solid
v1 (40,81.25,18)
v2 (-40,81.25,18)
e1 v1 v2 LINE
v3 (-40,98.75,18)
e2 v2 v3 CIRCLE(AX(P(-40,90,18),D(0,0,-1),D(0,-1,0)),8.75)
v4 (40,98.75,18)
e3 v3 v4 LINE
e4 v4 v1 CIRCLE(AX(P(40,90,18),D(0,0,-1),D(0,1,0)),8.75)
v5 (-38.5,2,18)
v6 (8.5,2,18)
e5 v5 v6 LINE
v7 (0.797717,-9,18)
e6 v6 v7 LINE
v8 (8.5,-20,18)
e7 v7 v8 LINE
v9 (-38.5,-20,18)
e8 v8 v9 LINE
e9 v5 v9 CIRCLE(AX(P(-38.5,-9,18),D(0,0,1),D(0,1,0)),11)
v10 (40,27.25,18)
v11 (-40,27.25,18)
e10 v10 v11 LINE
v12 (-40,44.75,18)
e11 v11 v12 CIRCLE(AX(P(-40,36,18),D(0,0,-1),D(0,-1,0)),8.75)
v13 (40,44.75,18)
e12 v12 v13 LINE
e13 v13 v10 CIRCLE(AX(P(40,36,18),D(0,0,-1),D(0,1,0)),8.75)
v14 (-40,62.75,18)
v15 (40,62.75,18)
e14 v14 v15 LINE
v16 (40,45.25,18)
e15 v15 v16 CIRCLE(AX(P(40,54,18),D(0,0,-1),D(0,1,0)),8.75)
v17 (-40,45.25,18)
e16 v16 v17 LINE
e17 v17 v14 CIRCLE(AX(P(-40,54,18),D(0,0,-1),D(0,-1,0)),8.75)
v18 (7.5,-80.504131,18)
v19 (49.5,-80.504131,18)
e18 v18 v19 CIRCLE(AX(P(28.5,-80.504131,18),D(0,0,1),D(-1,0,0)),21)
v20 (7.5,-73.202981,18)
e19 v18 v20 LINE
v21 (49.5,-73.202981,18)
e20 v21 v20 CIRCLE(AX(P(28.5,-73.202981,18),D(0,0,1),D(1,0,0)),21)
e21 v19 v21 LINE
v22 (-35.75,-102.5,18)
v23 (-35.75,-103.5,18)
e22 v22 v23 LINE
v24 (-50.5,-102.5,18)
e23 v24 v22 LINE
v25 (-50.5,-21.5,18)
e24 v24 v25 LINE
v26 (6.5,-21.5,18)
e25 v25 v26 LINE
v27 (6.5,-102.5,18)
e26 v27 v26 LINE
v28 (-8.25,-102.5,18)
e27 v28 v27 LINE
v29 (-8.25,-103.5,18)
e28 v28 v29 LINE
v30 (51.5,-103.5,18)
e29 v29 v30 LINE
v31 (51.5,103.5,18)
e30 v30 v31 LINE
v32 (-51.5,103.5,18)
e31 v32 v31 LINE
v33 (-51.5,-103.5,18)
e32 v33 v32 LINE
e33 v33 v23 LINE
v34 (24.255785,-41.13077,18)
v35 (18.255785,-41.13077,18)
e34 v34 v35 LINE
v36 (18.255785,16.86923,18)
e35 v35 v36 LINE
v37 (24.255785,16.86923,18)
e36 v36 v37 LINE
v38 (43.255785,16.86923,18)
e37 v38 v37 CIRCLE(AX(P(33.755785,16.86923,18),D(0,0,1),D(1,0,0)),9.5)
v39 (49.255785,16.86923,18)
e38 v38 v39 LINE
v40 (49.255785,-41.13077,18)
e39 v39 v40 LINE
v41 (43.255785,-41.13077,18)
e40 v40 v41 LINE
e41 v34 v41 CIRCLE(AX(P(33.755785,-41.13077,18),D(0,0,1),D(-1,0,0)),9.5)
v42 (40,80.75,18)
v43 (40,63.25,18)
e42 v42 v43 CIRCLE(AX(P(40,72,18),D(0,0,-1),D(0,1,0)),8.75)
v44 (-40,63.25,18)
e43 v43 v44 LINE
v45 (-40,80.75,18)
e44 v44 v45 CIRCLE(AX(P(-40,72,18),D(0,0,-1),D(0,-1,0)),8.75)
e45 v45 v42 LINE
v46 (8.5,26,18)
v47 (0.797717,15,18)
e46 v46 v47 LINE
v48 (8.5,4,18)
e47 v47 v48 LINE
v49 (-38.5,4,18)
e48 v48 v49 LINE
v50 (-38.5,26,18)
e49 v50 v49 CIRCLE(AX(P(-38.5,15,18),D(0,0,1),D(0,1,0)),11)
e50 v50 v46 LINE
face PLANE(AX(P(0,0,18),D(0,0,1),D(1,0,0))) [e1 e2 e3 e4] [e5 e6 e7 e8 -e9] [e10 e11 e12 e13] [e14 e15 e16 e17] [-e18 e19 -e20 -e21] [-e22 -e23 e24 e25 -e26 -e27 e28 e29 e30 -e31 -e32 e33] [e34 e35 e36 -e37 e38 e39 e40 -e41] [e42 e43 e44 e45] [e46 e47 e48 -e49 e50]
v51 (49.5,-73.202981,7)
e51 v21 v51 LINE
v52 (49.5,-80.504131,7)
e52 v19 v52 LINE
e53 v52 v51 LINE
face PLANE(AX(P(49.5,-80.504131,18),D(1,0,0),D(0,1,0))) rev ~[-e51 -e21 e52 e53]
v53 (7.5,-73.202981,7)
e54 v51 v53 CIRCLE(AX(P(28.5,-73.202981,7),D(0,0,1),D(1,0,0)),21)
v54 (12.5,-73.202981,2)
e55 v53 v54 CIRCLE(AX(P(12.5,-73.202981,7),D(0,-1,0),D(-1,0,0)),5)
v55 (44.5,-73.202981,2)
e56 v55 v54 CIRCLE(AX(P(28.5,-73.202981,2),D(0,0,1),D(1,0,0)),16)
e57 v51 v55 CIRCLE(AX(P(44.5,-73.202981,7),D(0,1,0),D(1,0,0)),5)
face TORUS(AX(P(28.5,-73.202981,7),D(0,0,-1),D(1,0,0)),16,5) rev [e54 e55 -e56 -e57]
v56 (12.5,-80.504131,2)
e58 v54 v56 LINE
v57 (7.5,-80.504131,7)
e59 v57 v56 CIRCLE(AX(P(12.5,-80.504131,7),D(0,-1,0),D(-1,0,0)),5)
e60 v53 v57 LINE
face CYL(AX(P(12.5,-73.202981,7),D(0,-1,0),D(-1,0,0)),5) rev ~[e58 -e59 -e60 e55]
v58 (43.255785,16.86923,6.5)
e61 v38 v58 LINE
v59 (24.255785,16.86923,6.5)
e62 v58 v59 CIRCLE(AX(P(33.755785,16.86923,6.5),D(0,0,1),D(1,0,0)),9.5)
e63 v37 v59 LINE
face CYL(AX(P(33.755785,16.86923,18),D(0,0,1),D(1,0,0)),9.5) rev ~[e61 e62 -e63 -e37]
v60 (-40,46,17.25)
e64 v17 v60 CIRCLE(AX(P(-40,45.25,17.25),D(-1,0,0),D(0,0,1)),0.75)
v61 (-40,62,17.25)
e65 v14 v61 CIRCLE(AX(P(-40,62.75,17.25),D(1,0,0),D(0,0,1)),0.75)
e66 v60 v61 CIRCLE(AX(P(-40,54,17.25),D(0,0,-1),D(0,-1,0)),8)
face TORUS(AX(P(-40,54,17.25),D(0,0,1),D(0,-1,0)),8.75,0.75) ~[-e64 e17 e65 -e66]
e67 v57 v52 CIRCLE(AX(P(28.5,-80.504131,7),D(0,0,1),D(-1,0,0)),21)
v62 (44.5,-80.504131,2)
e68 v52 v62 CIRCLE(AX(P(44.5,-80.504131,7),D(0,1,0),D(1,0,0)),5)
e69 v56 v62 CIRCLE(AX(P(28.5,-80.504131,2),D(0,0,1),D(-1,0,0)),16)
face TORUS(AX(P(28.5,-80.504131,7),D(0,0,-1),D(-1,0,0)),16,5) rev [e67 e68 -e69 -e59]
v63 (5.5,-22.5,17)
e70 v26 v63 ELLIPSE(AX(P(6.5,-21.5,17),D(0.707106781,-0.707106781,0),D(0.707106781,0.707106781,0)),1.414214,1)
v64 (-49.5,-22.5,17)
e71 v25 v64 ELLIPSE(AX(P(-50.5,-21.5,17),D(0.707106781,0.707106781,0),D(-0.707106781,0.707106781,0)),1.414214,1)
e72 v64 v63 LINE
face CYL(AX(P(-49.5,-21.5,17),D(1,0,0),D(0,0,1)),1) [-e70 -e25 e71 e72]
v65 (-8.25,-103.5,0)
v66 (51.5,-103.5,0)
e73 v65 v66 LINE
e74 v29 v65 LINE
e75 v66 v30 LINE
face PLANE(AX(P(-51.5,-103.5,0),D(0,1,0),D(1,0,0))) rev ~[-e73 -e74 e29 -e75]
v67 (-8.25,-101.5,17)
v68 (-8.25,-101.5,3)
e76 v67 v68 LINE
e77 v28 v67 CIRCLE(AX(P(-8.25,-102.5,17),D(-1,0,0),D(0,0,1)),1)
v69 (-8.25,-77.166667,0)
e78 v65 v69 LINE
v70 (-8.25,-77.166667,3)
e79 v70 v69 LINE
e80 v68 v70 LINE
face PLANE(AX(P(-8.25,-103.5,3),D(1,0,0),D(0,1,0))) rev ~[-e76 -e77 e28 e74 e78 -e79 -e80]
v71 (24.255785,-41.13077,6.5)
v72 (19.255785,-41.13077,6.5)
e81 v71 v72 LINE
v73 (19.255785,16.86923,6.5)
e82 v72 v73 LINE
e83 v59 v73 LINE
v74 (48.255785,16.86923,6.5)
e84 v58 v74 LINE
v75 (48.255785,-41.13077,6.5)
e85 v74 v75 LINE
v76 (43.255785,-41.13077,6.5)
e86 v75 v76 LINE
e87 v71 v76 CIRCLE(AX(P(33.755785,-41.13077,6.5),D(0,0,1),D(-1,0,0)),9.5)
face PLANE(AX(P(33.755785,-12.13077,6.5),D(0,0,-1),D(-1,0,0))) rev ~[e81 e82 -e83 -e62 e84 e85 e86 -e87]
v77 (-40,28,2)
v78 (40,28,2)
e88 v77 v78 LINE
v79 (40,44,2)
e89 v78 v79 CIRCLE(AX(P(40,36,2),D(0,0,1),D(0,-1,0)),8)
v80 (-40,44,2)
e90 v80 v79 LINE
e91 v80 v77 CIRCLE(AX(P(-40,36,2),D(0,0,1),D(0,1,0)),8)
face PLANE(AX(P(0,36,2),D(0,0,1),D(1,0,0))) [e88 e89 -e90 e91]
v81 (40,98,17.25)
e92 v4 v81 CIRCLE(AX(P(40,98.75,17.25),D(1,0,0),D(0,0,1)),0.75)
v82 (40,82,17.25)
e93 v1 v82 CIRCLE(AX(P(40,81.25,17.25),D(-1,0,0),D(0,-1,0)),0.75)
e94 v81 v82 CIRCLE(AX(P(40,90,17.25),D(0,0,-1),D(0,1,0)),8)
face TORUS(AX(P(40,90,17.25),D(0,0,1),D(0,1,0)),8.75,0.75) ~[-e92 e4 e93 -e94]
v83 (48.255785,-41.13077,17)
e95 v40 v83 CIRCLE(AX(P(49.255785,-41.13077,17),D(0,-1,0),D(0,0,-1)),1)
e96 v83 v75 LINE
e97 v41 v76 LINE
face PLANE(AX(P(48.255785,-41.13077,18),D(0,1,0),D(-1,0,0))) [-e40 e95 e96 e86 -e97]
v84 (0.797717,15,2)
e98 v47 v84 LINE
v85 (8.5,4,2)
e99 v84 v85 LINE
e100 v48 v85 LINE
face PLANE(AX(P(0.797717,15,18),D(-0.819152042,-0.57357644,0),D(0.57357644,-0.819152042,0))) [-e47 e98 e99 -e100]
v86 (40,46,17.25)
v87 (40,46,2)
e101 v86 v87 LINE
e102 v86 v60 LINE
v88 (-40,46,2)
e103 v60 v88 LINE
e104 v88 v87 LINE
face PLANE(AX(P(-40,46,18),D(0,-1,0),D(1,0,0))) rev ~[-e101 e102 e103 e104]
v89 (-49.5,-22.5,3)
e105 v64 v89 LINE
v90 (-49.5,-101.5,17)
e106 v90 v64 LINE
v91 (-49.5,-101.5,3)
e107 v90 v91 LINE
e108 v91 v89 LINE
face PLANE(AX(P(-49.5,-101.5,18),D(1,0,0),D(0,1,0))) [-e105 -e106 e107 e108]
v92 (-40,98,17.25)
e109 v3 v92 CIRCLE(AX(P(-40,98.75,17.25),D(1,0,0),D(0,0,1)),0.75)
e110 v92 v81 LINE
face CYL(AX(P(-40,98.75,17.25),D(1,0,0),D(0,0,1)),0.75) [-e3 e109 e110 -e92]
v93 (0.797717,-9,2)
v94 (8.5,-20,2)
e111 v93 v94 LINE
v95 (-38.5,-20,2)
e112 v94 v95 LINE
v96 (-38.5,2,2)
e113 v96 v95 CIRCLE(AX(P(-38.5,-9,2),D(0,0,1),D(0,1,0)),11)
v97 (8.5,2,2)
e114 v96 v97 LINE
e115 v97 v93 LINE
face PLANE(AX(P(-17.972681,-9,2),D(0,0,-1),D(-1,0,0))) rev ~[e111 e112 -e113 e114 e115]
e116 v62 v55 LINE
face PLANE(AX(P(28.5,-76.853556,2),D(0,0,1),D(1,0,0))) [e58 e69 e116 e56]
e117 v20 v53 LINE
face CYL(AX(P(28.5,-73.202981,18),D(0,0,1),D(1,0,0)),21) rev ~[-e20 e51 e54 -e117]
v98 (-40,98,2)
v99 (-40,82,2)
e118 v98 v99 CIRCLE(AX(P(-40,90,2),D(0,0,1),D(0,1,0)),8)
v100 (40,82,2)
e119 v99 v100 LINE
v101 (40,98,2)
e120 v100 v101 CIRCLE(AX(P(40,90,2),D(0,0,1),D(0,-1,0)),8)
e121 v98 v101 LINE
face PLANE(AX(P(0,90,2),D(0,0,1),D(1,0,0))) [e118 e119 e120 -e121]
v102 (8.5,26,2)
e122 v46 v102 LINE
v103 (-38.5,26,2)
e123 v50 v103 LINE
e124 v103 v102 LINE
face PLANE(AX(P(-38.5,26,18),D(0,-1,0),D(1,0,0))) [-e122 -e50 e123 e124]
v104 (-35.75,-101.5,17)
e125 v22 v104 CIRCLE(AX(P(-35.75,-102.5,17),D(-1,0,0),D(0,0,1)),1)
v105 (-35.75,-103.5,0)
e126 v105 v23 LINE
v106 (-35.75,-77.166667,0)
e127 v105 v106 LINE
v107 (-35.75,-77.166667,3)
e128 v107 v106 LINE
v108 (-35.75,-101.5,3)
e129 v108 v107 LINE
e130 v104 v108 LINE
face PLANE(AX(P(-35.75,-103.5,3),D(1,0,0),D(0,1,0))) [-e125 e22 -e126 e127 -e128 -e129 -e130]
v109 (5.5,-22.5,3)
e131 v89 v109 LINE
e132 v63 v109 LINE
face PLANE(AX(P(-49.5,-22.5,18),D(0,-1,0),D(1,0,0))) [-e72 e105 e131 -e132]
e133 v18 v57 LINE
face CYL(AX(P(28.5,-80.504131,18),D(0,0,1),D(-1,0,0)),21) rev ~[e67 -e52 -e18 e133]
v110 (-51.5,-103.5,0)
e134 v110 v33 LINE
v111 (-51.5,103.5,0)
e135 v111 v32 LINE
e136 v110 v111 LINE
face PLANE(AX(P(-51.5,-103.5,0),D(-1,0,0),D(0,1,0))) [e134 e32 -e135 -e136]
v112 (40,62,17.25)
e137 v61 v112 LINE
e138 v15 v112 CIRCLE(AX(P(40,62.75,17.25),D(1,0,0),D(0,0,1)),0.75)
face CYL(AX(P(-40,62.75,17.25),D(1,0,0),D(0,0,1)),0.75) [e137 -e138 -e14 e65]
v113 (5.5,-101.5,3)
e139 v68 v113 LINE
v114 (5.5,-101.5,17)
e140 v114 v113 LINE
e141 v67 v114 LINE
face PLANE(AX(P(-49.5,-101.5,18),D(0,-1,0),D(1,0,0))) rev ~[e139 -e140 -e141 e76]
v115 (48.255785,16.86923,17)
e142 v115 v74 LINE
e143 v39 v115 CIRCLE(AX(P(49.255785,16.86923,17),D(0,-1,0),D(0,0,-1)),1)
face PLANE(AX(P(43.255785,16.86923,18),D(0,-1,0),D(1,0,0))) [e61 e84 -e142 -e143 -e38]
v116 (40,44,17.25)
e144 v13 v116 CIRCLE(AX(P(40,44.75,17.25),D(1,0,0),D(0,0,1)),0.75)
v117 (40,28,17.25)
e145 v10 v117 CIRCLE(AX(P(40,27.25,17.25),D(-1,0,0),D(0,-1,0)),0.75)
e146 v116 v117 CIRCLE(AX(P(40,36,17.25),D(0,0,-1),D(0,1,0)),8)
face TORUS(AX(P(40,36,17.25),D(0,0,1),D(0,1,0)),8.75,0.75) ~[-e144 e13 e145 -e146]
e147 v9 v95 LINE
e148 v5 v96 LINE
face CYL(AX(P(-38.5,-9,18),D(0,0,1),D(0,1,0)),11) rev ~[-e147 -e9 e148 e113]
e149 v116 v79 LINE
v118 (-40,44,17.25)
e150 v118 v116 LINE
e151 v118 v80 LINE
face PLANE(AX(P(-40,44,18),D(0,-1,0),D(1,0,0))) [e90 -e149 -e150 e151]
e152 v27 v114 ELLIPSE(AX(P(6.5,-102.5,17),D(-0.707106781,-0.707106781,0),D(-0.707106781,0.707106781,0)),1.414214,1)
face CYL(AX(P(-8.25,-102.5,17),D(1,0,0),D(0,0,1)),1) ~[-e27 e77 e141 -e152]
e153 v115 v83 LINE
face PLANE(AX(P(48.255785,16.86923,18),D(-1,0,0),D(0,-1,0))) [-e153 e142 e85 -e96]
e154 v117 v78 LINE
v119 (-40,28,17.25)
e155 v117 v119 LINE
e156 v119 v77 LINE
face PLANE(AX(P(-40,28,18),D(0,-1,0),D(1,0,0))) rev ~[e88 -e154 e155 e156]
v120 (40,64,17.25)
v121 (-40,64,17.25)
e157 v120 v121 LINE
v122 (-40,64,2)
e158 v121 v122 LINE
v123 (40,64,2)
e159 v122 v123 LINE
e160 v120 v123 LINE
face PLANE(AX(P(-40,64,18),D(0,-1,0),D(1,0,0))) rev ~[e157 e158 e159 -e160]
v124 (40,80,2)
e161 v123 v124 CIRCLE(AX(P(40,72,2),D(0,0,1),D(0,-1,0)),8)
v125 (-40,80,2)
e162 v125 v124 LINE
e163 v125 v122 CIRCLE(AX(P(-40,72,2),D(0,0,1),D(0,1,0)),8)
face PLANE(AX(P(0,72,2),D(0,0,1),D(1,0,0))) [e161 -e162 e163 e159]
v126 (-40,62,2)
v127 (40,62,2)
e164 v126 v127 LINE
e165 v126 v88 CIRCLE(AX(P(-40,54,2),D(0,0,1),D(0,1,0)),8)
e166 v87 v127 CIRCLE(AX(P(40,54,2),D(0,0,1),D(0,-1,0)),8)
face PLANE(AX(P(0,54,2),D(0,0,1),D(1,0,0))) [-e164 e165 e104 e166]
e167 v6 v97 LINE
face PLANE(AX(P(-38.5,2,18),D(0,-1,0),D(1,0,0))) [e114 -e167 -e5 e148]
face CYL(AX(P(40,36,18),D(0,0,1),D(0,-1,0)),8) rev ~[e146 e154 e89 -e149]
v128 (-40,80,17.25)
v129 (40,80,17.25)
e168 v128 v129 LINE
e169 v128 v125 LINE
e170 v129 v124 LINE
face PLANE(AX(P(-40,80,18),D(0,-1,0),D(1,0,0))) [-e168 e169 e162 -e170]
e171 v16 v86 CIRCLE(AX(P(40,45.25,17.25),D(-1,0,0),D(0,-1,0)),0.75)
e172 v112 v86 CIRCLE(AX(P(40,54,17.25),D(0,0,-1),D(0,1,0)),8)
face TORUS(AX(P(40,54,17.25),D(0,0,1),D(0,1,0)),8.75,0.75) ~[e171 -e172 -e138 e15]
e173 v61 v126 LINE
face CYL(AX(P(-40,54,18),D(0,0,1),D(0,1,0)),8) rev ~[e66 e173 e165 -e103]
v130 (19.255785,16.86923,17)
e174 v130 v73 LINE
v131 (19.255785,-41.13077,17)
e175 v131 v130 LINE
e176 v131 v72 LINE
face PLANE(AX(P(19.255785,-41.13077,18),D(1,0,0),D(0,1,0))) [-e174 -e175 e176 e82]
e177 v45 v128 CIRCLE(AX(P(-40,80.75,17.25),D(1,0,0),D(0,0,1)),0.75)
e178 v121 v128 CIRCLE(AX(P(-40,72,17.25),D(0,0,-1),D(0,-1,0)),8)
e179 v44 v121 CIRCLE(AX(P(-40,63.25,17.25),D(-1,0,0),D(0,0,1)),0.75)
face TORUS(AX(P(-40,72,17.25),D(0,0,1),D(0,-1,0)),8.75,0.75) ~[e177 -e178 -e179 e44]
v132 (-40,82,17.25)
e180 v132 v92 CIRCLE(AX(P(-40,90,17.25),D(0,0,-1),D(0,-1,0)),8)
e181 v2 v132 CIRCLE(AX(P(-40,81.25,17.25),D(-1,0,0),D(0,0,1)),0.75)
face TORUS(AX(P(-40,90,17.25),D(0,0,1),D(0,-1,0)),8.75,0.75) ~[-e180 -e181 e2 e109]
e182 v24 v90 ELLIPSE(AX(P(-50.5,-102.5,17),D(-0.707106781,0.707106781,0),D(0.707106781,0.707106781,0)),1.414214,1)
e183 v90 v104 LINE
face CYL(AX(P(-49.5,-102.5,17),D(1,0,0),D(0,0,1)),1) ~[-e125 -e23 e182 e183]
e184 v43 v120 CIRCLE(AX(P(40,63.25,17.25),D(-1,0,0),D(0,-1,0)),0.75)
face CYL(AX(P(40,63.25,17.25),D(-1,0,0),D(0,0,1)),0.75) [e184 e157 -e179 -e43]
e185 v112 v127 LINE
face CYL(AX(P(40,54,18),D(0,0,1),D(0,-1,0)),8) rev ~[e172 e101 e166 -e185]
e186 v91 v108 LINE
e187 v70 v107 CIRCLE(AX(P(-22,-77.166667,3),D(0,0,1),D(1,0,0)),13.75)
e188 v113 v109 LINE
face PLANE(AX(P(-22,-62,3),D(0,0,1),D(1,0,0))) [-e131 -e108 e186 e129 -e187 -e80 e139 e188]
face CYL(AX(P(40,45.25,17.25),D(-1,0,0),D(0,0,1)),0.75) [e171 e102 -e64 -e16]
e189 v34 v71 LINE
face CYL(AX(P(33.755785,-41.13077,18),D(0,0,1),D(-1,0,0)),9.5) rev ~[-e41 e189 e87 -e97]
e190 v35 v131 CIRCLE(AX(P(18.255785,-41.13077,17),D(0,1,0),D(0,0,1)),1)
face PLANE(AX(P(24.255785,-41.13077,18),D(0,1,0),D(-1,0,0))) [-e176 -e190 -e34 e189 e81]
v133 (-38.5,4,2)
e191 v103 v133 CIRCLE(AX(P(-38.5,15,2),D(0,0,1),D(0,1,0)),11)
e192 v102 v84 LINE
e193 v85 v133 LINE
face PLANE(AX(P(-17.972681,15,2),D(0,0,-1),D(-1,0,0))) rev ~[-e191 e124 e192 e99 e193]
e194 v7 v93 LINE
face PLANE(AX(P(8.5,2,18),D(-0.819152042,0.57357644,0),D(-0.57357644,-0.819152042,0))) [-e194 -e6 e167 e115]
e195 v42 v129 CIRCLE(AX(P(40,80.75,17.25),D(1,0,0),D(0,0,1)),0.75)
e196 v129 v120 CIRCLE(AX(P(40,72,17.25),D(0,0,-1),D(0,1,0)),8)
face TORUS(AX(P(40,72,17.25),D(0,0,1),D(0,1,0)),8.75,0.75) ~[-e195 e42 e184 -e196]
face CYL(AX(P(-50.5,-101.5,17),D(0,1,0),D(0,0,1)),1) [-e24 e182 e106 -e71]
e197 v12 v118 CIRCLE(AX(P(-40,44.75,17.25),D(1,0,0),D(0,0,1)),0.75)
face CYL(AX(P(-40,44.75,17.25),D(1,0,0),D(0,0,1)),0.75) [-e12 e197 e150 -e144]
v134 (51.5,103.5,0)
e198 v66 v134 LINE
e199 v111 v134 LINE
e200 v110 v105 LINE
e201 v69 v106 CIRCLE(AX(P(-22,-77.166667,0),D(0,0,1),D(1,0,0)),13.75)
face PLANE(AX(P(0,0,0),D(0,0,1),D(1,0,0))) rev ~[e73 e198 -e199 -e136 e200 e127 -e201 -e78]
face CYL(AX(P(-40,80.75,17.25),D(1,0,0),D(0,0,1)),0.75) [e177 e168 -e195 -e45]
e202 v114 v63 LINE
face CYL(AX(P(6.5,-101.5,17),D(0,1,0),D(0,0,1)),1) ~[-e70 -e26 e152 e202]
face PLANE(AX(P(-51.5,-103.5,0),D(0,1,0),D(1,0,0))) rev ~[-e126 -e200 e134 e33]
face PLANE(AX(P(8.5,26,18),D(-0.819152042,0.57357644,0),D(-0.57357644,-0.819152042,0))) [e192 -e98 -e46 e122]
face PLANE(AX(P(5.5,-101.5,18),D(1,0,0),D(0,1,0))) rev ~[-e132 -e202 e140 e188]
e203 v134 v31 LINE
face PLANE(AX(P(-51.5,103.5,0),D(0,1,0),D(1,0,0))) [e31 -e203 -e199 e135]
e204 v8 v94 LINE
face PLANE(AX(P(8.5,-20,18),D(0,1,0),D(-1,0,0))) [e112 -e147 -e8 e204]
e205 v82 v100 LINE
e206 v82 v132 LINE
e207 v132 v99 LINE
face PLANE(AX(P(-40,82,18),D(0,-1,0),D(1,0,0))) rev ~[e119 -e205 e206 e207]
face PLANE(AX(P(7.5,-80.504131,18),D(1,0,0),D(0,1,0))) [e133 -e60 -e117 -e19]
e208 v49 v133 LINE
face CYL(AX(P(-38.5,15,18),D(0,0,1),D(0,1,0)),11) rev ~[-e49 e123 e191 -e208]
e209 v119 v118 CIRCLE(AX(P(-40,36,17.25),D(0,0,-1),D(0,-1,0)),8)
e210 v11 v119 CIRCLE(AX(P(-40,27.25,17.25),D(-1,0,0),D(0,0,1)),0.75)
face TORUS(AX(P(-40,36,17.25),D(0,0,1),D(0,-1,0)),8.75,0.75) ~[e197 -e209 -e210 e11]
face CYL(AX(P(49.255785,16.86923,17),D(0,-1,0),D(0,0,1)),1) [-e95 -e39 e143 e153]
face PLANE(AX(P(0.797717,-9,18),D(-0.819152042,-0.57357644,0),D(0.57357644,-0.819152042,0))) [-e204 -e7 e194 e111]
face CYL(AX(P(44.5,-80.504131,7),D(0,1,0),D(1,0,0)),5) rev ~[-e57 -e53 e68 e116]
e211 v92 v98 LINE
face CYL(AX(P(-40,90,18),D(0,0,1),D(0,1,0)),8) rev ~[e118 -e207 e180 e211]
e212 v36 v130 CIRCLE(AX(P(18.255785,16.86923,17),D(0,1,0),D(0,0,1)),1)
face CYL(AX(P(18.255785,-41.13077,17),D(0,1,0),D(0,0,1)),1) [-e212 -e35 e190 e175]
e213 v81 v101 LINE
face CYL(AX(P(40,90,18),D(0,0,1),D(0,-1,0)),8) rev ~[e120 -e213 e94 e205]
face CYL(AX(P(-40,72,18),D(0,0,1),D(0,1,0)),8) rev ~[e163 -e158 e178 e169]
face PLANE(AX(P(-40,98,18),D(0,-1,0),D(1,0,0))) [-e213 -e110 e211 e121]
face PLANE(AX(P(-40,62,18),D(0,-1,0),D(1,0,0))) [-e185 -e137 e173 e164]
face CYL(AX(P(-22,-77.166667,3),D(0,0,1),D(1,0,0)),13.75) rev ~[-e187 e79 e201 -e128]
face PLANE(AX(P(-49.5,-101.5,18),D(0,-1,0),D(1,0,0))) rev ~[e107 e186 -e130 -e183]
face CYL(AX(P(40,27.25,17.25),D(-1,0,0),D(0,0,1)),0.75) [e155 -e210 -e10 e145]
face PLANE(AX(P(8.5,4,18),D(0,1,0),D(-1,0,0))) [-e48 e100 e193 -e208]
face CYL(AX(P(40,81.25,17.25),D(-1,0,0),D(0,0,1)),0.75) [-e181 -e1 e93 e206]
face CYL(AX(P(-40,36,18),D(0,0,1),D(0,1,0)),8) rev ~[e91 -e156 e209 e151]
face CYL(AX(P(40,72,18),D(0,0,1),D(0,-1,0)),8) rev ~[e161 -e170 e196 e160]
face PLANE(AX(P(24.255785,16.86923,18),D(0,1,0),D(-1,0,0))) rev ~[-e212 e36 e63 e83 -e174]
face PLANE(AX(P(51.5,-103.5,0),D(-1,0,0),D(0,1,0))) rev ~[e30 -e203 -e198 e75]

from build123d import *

# Parameters (mm, degrees)
SKETCH014_W            = 103
SKETCH014_H            = 207
PAD006_DEPTH           = 18
POCKET008_DEPTH        = 16
LINEARPATTERN_COUNT    = 4
LINEARPATTERN_PITCH    = 18
POCKET009_DEPTH        = 16
LINEARPATTERN001_COUNT = 2
LINEARPATTERN001_PITCH = 24
POCKET010_DEPTH        = 11.5
SKETCH019_W            = 55
SKETCH019_H            = 79
POCKET011_DEPTH        = 15
POCKET012_DEPTH        = 100
POCKET012_DEPTH_BACK   = 100
POCKET013_DEPTH        = 16
FILLET003_R            = 1
FILLET004_R            = 5
FILLET005_R            = 1
FILLET006_R            = 0.75


with BuildPart() as part:
    # Sketch014 → Pad006 (new body)
    with BuildSketch(Plane.XY):
        Rectangle(SKETCH014_W, SKETCH014_H)
    extrude(amount=PAD006_DEPTH)

    # Sketch015 (on Face6 of Pad006) → Pocket008 (cut)
    with BuildSketch(Plane(origin=(0, 90, 18), x_dir=(1, 0, 0), z_dir=(0, 0, 1))):
        with BuildLine():
            ThreePointArc((-40, 8), (-48, 0), (-40, -8))
            Line((-40, -8), (40, -8))
            ThreePointArc((40, -8), (48, 0), (40, 8))
            Line((-40, 8), (40, 8))
        make_face()
    pocket008 = extrude(amount=-POCKET008_DEPTH, mode=Mode.SUBTRACT)

    # LinearPattern: Pocket008 ×4
    with Locations(*[(0, -i * LINEARPATTERN_PITCH, 0) for i in range(1, LINEARPATTERN_COUNT)]):
        add(pocket008, mode=Mode.SUBTRACT)

    # Sketch017 → Pocket009 (cut)
    with BuildSketch(Plane(origin=(-15, 15, 18), x_dir=(1, 0, 0), z_dir=(0, 0, 1))):
        with BuildLine():
            Line((-23.5, 11), (23.5, 11))
            Line((23.5, 11), (15.797717, 0))
            Line((15.797717, 0), (23.5, -11))
            Line((23.5, -11), (-23.5, -11))
            ThreePointArc((-23.5, 11), (-34.5, 0), (-23.5, -11))
        make_face()
    pocket009 = extrude(amount=-POCKET009_DEPTH, mode=Mode.SUBTRACT)

    # LinearPattern001: Pocket009 ×2
    with Locations(*[(0, -i * LINEARPATTERN001_PITCH, 0) for i in range(1, LINEARPATTERN001_COUNT)]):
        add(pocket009, mode=Mode.SUBTRACT)

    # Sketch018 (on Face5 of LinearPattern001) → Pocket010 (cut)
    with BuildSketch(Plane.XY.offset(18)):
        with BuildLine():
            Line((48.255785, 16.86923), (48.255785, -41.13077))
            Line((48.255785, -41.13077), (43.255785, -41.13077))
            ThreePointArc((24.255785, -41.13077), (33.755784, -50.63077), (43.255785, -41.13077))
            Line((24.255785, -41.13077), (19.255785, -41.13077))
            Line((19.255785, -41.13077), (19.255785, 16.86923))
            Line((24.255785, 16.86923), (19.255785, 16.86923))
            ThreePointArc((43.255785, 16.86923), (33.755785, 26.36923), (24.255785, 16.86923))
            Line((43.255785, 16.86923), (48.255785, 16.86923))
        make_face()
    extrude(amount=-POCKET010_DEPTH, mode=Mode.SUBTRACT)

    # Sketch019 (on Face5 of Pocket010) → Pocket011 (cut)
    with BuildSketch(Plane.XY.offset(18)):
        with Locations((-22, -62)):
            Rectangle(SKETCH019_W, SKETCH019_H)
    extrude(amount=-POCKET011_DEPTH, mode=Mode.SUBTRACT)

    # Sketch020 (on Face46 of Pocket011) → Pocket012 (cut, two sides)
    with BuildSketch(Plane.XY.offset(3)) as pocket012_sk:
        with BuildLine():
            ThreePointArc((-35.75, -103.5), (-22, -117.25), (-8.25, -103.5))
            Line((-8.25, -103.5), (-8.25, -77.166667))
            ThreePointArc((-8.25, -77.166667), (-22, -63.416667), (-35.75, -77.166667))
            Line((-35.75, -103.5), (-35.75, -77.166667))
        make_face()
    extrude(amount=-POCKET012_DEPTH, mode=Mode.SUBTRACT)
    extrude(pocket012_sk.sketch, amount=POCKET012_DEPTH_BACK, mode=Mode.SUBTRACT)

    # Sketch021 (on Face5 of Pocket012) → Pocket013 (cut)
    with BuildSketch(Plane.XY.offset(18)):
        with BuildLine():
            ThreePointArc((7.5, -80.504131), (28.5, -101.504131), (49.5, -80.504131))
            Line((49.5, -80.504131), (49.5, -73.202981))
            ThreePointArc((49.5, -73.202981), (28.5, -52.202981), (7.5, -73.202981))
            Line((7.5, -80.504131), (7.5, -73.202981))
        make_face()
    extrude(amount=-POCKET013_DEPTH, mode=Mode.SUBTRACT)

    # Fillet003
    fillet003_edges = [part.edges().sort_by_distance(p)[0] for p in [
        (-42.625, -101.5, 18),
        (-49.5, -62, 18),
        (-22, -22.5, 18),
        (5.5, -62, 18),
        (-1.375, -101.5, 18),
    ]]
    fillet(fillet003_edges, radius=FILLET003_R)

    # Fillet004
    fillet004_edges = [part.edges().sort_by_distance(p)[0] for p in [
        (28.5, -52.202981, 2),
    ]]
    fillet(fillet004_edges, radius=FILLET004_R)

    # Fillet005
    fillet005_edges = [part.edges().sort_by_distance(p)[0] for p in [
        (48.255785, -12.13077, 18),
        (19.255785, -12.13077, 18),
    ]]
    fillet(fillet005_edges, radius=FILLET005_R)

    # Fillet006
    fillet006_edges = [part.edges().sort_by_distance(p)[0] for p in [
        (0, 80, 18),
        (-48, 72, 18),
        (0, 64, 18),
        (48, 72, 18),
        (0, 62, 18),
        (-48, 54, 18),
        (0, 46, 18),
        (48, 54, 18),
        (0, 44, 18),
        (-48, 36, 18),
        (0, 28, 18),
        (48, 36, 18),
        (0, 98, 18),
        (-48, 90, 18),
        (0, 82, 18),
        (48, 90, 18),
    ]]
    fillet(fillet006_edges, radius=FILLET006_R)


solid = part.part
